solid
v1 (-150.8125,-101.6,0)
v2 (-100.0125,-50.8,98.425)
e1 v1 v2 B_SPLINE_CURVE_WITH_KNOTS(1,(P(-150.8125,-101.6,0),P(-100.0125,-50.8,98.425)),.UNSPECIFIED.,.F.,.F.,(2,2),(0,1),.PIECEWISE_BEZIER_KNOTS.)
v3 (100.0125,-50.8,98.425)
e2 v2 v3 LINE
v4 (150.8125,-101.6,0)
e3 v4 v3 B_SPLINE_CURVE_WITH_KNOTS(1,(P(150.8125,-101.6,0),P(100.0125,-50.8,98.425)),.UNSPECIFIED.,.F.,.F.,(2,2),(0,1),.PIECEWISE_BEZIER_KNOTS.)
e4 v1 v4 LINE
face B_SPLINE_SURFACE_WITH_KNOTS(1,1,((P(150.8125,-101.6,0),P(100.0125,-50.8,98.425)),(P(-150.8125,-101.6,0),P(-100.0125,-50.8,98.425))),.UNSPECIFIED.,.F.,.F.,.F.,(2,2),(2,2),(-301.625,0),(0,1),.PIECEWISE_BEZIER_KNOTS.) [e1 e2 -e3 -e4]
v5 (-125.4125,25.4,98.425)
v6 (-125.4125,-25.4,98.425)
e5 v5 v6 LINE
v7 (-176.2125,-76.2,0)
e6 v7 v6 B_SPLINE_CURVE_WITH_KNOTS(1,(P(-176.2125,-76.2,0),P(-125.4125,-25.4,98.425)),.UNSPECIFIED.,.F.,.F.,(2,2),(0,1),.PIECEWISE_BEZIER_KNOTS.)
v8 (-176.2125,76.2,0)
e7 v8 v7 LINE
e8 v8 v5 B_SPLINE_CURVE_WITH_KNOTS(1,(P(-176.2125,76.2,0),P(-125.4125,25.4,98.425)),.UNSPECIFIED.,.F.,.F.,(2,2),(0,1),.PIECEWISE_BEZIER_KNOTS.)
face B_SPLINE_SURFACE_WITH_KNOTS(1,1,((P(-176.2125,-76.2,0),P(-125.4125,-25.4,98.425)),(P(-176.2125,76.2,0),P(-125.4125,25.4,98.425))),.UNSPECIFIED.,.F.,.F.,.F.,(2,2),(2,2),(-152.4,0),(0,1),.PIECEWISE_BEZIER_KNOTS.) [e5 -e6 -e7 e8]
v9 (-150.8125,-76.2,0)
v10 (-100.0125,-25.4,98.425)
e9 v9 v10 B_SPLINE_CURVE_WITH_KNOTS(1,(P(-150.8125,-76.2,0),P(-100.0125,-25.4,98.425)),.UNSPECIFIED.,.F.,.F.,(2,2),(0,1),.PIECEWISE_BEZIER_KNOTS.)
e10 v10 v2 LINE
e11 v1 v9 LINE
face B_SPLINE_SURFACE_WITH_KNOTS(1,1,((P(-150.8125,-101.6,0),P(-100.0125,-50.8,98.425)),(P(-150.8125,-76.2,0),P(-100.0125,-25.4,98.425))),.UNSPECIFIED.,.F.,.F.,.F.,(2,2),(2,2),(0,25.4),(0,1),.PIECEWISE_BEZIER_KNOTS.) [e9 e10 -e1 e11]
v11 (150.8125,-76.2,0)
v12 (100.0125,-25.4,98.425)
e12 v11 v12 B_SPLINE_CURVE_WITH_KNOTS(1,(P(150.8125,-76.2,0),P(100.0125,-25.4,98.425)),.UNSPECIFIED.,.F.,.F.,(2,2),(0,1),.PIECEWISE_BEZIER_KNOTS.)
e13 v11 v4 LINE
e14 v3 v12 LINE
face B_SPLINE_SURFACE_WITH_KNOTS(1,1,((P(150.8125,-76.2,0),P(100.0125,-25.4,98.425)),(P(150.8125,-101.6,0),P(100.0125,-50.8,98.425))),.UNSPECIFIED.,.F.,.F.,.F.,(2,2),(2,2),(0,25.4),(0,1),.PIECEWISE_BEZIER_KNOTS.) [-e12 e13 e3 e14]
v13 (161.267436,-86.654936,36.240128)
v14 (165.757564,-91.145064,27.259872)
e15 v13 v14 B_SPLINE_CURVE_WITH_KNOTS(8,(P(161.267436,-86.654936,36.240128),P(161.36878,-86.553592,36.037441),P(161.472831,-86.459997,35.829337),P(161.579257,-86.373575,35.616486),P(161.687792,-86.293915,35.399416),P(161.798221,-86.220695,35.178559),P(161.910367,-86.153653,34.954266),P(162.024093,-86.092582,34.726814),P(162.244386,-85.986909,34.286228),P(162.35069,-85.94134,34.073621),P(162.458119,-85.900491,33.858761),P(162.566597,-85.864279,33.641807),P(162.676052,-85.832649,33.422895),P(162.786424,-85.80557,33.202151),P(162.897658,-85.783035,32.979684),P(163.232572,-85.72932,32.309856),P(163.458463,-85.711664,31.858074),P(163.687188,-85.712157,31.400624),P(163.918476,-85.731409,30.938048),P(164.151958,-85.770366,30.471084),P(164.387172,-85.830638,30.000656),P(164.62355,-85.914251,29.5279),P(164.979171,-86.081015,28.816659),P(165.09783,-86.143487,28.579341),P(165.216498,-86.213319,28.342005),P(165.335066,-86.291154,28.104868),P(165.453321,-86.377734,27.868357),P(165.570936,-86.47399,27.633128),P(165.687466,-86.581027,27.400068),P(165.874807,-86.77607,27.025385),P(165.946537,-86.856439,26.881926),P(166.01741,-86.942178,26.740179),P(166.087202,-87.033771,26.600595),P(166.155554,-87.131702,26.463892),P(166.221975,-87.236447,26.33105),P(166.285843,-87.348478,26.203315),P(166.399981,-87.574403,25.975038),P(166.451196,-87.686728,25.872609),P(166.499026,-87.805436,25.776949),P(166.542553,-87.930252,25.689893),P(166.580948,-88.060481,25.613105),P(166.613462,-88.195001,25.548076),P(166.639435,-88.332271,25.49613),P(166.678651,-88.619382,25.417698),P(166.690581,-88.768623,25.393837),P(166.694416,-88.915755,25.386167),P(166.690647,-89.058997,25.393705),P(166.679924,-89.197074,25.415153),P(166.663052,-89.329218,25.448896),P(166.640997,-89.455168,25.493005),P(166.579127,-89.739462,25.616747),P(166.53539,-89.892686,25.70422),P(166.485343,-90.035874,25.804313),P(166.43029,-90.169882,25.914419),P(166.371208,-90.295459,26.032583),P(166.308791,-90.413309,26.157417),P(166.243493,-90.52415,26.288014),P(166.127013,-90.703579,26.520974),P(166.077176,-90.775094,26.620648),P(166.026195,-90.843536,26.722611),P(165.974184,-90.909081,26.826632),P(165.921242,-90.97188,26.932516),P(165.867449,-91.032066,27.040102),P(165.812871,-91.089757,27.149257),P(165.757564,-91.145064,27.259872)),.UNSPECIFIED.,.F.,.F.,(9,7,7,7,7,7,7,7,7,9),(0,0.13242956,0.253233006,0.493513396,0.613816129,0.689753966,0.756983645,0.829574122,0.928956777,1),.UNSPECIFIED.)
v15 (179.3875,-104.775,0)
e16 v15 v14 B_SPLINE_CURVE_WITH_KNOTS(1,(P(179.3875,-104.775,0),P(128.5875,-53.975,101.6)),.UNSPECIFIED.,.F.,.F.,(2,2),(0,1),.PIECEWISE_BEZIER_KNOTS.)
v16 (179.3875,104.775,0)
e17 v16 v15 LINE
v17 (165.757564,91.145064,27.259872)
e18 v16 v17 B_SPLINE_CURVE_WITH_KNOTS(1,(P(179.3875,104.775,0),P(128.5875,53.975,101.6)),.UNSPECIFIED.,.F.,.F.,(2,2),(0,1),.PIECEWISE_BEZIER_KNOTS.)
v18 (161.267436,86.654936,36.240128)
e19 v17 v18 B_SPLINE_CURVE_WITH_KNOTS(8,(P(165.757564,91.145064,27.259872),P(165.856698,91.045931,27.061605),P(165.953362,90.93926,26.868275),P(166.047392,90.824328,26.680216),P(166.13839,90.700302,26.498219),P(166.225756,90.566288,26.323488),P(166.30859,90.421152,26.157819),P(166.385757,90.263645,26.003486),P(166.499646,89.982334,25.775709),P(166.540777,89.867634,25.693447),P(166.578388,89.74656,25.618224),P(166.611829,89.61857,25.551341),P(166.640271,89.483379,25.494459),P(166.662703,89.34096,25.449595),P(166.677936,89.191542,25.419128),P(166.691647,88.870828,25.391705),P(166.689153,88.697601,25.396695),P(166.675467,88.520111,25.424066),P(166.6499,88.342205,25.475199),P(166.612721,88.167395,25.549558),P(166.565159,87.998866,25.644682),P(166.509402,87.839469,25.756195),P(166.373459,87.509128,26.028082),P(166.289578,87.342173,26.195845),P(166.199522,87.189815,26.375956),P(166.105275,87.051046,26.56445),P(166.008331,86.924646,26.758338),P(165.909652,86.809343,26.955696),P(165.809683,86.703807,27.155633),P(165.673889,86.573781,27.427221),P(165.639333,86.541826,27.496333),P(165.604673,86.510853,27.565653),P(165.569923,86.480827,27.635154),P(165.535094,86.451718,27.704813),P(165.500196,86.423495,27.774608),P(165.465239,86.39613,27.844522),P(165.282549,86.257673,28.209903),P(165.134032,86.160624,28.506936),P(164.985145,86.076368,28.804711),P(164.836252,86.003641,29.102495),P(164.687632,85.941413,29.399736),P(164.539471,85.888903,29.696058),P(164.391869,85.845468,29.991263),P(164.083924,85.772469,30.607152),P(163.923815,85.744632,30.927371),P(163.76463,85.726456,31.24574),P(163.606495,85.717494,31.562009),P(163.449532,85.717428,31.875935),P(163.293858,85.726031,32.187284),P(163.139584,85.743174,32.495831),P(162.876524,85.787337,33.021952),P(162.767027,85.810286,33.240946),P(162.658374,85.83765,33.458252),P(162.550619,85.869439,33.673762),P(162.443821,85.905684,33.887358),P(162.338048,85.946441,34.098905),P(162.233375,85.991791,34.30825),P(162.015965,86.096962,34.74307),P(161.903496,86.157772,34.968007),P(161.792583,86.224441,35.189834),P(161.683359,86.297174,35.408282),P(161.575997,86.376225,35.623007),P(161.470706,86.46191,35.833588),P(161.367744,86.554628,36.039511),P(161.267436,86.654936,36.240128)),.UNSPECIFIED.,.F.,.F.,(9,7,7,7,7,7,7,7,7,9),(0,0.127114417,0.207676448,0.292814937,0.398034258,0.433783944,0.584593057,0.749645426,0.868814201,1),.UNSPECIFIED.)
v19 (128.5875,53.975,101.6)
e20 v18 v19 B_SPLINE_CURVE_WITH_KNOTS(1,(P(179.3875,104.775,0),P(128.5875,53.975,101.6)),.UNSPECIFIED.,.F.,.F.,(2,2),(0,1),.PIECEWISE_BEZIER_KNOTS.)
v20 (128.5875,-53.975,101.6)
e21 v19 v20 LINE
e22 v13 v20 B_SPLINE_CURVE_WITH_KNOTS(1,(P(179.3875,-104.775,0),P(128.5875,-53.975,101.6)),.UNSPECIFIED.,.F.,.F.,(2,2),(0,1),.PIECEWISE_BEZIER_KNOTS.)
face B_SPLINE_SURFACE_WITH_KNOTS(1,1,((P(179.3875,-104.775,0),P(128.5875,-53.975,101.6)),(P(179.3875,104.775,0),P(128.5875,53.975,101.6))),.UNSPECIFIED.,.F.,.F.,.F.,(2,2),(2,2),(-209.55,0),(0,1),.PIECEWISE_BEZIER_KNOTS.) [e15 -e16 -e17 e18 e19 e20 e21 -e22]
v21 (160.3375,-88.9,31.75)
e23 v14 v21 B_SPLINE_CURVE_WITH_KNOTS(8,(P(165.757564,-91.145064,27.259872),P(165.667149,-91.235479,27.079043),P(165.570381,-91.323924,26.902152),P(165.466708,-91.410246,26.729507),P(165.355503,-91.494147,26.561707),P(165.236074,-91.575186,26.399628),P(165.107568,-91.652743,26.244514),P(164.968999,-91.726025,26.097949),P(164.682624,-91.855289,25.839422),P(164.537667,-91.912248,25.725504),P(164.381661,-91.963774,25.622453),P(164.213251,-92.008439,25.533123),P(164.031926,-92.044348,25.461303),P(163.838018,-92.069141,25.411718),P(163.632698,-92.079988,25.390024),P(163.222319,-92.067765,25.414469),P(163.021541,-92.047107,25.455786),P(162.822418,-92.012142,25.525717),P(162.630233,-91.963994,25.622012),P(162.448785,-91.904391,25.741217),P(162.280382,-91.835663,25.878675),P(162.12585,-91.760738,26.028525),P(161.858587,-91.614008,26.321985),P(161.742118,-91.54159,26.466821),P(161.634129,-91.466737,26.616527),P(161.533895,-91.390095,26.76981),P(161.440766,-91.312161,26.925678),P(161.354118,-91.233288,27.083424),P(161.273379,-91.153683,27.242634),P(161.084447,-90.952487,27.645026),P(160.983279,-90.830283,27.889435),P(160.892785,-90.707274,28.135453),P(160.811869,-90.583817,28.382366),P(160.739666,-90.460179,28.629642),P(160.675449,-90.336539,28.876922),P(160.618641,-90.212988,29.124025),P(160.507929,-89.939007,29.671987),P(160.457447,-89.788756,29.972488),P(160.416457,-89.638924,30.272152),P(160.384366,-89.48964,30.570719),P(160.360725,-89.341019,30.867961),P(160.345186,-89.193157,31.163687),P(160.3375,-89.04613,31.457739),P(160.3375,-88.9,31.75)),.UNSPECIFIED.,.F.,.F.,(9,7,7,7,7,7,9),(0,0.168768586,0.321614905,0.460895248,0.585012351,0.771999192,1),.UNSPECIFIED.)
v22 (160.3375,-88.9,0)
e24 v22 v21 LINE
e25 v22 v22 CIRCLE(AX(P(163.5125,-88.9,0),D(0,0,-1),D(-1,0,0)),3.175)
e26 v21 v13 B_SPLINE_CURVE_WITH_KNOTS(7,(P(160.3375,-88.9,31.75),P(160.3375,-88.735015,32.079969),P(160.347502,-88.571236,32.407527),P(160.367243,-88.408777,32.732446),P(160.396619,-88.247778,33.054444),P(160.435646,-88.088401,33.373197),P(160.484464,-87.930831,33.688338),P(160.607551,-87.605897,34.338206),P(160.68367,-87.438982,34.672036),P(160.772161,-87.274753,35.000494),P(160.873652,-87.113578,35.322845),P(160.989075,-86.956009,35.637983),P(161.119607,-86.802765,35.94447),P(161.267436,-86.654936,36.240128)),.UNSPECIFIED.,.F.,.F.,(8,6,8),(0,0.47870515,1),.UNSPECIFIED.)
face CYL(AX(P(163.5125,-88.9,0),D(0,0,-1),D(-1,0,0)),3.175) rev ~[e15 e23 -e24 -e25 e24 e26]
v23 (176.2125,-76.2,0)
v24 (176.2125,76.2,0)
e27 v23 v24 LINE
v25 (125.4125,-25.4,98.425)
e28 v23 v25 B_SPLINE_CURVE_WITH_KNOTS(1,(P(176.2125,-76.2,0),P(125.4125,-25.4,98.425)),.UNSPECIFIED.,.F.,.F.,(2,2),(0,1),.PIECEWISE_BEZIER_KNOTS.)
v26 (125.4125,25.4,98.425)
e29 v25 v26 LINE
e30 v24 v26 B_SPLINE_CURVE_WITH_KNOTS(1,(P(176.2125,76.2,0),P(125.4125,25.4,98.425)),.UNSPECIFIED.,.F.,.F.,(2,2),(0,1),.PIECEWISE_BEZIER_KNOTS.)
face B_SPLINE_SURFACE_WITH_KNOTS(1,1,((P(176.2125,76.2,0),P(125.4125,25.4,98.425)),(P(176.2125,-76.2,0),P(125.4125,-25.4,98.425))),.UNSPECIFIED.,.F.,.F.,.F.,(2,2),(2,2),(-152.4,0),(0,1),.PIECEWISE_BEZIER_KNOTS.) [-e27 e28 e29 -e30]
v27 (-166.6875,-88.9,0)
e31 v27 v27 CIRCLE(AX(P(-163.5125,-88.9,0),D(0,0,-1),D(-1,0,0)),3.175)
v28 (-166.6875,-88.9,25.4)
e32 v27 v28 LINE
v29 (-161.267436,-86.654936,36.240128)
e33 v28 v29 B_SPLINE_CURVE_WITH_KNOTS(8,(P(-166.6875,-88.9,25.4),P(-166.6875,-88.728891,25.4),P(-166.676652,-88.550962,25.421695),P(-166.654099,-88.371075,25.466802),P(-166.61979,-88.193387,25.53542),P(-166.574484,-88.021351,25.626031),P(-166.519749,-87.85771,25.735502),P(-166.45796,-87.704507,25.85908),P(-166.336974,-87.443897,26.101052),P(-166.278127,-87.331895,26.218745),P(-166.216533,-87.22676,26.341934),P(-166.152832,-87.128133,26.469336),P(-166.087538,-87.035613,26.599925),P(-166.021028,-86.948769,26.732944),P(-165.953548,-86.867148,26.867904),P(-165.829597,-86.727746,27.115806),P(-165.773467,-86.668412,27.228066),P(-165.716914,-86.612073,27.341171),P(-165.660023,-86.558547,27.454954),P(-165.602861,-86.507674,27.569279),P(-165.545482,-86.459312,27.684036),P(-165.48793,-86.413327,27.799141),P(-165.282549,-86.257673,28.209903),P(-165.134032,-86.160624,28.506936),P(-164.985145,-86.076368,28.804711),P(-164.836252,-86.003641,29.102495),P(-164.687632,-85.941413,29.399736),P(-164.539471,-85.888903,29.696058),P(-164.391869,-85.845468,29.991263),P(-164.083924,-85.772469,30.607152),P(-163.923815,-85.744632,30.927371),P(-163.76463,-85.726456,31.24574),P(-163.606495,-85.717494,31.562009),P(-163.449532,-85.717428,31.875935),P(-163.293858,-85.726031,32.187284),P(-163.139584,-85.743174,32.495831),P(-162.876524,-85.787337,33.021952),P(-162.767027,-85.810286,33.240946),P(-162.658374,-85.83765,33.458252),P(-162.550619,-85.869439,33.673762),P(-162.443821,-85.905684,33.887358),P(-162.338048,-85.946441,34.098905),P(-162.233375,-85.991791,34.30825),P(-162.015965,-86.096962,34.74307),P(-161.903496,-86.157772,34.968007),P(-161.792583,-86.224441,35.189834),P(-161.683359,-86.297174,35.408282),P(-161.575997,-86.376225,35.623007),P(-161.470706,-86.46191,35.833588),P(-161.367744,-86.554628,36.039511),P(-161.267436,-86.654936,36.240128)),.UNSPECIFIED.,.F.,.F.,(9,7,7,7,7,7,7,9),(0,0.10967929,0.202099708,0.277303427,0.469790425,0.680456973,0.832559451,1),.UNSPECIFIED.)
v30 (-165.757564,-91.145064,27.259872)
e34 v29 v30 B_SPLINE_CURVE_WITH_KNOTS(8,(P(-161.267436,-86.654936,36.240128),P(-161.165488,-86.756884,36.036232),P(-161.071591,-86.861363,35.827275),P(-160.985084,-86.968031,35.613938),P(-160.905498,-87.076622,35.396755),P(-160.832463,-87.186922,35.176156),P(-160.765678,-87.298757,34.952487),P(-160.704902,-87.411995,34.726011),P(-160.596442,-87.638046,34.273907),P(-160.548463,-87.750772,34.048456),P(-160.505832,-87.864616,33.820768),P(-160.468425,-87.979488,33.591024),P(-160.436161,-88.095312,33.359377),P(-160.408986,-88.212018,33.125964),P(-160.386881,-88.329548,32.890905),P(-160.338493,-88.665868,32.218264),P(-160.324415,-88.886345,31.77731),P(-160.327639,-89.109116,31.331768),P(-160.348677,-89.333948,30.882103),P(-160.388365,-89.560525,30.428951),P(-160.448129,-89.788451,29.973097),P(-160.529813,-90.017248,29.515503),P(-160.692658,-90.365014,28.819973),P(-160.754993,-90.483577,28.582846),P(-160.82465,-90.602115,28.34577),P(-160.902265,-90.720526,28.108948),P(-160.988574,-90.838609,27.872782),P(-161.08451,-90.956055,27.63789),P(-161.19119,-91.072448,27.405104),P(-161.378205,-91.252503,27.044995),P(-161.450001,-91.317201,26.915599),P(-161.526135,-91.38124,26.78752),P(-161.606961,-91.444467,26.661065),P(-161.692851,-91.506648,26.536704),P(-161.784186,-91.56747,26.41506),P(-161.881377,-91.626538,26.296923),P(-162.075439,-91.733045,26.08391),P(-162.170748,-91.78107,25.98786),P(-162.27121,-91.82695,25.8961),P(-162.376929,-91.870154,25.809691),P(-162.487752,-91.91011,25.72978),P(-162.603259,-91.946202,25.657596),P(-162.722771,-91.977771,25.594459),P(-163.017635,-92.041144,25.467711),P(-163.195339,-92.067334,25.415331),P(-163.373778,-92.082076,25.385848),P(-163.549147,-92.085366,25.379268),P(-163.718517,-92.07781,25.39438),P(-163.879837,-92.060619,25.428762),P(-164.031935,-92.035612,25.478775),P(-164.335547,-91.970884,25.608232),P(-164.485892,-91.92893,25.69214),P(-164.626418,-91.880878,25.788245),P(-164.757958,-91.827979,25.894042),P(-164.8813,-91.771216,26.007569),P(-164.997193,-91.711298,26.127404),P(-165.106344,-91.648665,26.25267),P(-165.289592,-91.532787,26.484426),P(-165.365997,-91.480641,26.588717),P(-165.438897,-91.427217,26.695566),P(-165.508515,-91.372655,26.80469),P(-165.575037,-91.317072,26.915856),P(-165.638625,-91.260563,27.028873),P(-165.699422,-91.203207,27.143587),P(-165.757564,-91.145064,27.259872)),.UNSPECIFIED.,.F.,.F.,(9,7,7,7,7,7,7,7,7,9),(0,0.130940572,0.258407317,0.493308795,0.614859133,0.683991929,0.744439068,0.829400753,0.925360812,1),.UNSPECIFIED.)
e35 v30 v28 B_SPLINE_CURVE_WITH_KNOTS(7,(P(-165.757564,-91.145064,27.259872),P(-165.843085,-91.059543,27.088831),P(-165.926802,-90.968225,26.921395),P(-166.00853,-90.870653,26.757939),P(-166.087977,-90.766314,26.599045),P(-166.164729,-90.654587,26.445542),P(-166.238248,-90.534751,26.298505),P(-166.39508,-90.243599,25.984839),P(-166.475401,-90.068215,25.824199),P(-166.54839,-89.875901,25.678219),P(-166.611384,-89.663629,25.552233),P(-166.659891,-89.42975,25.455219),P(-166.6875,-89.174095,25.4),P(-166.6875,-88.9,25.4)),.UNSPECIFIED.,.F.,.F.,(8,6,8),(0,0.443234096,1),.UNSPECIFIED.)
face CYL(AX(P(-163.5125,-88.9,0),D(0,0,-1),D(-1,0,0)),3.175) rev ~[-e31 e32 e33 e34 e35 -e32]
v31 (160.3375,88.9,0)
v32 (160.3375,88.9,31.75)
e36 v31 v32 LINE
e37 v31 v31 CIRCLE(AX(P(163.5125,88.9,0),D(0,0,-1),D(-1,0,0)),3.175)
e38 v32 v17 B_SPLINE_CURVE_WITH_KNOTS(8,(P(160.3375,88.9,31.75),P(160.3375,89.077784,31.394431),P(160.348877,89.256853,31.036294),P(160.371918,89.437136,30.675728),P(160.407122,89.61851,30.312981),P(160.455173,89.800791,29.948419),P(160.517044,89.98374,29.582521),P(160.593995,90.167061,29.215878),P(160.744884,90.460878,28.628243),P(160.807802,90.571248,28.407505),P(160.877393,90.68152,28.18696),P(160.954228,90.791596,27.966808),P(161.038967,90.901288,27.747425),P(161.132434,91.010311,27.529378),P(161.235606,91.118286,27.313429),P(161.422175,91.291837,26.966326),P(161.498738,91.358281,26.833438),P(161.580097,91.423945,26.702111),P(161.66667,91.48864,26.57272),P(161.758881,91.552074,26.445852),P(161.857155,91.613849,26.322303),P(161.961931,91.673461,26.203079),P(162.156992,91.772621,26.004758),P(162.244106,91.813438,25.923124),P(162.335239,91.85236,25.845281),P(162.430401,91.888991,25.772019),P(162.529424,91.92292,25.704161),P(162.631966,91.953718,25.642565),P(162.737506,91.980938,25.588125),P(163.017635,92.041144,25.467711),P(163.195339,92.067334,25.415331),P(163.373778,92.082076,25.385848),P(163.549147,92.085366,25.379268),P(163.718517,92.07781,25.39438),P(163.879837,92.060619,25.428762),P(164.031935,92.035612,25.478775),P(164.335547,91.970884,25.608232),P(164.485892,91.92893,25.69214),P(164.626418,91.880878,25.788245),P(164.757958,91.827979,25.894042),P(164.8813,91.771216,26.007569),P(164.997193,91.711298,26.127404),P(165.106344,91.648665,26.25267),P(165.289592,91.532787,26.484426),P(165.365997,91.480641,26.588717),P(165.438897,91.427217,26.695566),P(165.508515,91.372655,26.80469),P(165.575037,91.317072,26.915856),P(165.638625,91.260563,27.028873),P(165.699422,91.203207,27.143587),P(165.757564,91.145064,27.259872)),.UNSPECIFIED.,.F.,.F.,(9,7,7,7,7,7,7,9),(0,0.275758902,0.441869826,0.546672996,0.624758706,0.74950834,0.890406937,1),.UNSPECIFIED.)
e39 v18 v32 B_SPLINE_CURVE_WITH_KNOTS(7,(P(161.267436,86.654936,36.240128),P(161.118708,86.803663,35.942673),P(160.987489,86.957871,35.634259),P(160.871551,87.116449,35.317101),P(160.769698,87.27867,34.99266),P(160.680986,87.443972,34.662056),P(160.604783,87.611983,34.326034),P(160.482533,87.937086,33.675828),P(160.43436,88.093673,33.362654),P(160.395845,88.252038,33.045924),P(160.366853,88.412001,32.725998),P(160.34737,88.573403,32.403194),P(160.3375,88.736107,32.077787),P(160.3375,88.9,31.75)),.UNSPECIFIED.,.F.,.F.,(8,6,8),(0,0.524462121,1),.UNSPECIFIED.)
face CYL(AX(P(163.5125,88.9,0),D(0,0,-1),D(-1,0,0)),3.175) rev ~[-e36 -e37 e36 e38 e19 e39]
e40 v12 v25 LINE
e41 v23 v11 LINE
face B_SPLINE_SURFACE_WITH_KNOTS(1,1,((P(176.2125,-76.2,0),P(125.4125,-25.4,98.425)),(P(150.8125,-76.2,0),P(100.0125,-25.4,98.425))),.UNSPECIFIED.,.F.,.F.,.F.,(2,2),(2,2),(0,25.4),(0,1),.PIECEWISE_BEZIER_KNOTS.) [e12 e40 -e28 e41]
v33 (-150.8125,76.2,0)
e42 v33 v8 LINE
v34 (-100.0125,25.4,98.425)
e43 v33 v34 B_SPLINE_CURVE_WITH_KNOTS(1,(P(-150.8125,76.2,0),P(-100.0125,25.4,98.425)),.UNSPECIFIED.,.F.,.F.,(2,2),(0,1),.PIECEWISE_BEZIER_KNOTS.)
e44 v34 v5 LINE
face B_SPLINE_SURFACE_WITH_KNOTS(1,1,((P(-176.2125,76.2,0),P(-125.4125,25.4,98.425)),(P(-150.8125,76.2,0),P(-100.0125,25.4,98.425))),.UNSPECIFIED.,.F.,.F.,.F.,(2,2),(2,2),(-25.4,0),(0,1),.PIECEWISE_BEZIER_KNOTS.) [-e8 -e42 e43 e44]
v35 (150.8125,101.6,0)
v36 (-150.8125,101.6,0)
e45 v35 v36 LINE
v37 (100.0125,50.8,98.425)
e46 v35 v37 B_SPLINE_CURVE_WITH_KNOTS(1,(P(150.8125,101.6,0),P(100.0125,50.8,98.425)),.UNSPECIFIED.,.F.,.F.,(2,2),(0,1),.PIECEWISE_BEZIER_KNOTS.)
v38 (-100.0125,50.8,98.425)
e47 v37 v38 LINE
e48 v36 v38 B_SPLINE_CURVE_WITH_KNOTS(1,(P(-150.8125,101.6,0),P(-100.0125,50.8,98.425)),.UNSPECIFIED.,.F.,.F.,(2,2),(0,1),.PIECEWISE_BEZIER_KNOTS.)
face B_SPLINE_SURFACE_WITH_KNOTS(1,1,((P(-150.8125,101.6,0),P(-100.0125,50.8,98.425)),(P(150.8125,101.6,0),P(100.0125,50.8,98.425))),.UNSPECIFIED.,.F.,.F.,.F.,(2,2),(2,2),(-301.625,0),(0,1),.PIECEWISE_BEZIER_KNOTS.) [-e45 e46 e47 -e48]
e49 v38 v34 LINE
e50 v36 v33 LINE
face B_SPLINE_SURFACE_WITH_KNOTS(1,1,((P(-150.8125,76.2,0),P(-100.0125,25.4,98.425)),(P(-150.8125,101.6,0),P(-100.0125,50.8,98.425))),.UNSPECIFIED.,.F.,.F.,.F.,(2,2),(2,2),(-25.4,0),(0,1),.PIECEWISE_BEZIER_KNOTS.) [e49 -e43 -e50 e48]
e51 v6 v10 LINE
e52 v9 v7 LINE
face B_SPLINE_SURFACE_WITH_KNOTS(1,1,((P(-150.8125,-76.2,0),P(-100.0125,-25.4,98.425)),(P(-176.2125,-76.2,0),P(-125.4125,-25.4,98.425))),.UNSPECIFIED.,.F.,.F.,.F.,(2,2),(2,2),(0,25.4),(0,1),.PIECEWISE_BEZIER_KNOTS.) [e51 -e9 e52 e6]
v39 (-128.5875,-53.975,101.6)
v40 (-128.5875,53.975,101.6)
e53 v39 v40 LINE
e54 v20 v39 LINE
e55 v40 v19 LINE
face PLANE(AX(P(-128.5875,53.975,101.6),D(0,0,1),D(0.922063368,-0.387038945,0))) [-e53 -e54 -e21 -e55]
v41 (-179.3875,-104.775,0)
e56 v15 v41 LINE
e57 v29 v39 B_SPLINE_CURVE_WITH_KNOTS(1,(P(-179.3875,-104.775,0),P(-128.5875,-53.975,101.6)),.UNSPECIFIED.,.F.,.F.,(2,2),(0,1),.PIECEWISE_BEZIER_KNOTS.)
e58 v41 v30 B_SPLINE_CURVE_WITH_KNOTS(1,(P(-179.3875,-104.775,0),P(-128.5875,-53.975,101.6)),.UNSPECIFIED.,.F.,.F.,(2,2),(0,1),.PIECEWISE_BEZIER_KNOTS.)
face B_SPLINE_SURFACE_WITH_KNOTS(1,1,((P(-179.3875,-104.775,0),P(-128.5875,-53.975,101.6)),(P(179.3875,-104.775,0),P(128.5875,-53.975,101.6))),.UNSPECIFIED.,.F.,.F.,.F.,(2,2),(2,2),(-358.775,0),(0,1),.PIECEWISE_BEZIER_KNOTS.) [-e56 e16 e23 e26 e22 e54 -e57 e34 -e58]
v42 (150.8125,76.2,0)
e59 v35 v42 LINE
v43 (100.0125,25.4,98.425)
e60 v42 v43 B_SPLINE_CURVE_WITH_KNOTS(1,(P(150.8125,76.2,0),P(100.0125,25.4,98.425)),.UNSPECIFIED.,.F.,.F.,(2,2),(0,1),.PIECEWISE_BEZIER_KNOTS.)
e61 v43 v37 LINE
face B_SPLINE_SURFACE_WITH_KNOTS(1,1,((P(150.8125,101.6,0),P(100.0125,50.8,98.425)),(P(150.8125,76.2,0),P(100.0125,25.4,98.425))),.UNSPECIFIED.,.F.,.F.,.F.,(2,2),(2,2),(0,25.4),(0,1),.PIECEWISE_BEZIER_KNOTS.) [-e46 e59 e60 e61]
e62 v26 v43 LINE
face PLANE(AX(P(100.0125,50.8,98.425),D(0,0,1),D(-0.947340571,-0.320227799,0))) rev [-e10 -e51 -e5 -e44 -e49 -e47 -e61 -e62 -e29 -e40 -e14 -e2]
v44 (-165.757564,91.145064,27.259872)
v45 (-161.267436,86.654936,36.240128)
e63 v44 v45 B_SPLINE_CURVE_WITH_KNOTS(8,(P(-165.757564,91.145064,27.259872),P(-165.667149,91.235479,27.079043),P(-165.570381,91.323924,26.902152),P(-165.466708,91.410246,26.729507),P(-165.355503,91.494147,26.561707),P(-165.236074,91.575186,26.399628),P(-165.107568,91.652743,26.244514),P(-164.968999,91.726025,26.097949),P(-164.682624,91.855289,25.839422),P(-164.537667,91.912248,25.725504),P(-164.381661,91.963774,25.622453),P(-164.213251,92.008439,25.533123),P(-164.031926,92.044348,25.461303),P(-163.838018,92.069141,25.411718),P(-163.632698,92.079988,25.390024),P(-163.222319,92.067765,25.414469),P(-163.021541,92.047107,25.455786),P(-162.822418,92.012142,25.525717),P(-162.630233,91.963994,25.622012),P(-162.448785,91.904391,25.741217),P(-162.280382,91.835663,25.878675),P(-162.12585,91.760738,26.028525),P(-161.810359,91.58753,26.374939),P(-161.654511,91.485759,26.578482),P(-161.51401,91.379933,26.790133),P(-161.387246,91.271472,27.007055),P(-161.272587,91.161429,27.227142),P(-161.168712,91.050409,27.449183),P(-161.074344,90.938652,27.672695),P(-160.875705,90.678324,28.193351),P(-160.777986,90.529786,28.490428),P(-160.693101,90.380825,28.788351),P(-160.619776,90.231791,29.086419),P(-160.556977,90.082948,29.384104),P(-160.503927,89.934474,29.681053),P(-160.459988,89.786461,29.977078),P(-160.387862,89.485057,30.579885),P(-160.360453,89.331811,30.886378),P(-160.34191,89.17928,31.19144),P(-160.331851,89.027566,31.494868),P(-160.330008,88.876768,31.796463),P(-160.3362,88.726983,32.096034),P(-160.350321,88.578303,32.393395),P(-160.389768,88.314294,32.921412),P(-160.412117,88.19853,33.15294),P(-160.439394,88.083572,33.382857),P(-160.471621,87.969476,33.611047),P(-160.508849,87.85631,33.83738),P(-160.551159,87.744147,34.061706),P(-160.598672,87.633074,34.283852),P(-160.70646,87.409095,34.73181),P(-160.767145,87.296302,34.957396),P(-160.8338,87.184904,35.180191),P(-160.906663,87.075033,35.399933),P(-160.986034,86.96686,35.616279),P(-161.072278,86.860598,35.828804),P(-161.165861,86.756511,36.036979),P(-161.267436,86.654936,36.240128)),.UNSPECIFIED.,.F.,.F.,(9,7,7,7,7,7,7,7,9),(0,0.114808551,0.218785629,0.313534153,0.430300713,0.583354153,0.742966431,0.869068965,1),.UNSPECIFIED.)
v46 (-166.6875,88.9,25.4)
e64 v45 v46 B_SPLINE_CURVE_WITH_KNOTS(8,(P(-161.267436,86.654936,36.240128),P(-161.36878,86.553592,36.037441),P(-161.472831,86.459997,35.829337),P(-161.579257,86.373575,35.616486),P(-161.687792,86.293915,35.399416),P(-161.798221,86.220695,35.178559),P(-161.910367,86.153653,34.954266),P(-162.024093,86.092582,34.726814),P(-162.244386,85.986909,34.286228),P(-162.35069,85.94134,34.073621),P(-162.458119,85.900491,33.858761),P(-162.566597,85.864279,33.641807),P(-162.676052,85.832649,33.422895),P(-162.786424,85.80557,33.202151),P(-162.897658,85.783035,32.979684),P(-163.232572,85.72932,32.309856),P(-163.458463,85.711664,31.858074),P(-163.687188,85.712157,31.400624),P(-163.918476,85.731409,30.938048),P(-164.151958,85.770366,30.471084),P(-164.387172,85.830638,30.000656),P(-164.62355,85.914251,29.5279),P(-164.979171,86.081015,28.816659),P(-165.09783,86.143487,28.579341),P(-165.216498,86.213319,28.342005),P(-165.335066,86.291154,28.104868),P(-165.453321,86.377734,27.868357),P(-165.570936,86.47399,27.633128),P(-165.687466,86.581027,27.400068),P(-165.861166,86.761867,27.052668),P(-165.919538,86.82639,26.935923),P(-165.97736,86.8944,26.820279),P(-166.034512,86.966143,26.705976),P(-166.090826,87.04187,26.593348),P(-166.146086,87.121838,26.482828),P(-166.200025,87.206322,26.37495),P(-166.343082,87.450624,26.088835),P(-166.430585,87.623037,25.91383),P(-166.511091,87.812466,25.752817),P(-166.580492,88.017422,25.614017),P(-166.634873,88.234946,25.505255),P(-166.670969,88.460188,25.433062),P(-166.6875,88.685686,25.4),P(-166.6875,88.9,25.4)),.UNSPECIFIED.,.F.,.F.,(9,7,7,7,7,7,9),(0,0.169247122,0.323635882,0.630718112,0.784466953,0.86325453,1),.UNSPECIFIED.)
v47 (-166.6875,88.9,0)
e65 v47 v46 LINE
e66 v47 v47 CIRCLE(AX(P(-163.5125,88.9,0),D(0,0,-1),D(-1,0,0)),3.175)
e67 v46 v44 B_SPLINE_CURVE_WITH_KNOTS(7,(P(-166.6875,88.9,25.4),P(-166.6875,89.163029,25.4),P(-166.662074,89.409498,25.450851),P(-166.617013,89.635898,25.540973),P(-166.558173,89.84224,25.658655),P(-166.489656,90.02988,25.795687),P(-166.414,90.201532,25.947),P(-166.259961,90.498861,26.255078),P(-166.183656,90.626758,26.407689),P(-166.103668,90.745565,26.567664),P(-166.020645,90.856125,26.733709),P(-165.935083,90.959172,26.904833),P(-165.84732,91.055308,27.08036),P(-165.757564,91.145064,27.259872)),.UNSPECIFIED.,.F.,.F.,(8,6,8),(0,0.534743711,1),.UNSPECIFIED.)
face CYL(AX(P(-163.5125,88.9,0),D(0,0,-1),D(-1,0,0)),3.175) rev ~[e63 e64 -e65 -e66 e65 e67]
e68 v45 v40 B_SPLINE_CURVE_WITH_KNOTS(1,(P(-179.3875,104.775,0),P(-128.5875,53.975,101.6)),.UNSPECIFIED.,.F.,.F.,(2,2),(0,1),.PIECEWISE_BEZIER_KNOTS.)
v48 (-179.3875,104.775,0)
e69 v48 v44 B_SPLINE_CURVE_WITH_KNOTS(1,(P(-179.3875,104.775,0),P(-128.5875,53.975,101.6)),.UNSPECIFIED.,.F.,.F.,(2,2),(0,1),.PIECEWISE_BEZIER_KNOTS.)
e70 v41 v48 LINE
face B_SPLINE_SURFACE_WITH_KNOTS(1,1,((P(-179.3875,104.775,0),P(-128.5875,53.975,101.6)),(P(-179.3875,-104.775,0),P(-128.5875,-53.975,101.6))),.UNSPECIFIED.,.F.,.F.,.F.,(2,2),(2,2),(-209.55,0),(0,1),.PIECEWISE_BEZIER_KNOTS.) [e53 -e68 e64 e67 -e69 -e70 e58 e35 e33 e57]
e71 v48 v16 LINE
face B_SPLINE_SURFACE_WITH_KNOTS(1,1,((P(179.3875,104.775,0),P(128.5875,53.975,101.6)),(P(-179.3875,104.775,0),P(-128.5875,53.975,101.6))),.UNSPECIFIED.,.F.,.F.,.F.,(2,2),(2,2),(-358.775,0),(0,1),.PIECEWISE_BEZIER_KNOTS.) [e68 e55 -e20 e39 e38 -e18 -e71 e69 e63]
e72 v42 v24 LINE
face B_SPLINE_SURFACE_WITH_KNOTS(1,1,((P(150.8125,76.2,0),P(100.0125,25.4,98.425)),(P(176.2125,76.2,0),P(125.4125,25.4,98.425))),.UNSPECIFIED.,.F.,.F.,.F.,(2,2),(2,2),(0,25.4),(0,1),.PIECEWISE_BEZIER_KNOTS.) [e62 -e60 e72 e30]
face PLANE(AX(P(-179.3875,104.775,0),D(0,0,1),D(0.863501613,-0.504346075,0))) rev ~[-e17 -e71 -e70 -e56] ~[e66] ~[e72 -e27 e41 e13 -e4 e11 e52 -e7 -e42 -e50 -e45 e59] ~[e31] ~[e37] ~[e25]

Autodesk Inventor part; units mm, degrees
ref_plane "YZ Plane" through (0, 0, 0) normal (1, 0, 0) x (0, 1, 0)
sketch "Sketch1" plane through (0, 0, 0) normal (0, 0, 1) x (1, 0, 0)
  line L0 (-251.1425, 0) -> (251.1425, 0) construction
  line L1 (0, -146.685) -> (0, 146.685) construction
  line L2 (-179.3875, 104.775) -> (179.3875, 104.775)
  line L3 (179.3875, 104.775) -> (179.3875, -104.775)
  line L4 (179.3875, -104.775) -> (-179.3875, -104.775)
  line L5 (-179.3875, -104.775) -> (-179.3875, 104.775)
  point P0 (0, 0)
  point P1 (0, 104.775)
  point P2 (-179.3875, 0)
  dimension "d0" = 358.775
  dimension "d1" = 209.55
ref_plane "Work Plane1" through (0, 0, 101.6) normal (0, 0, 1) x (1, 0, 0)
sketch "Sketch2" plane through (0, 0, 101.6) normal (0, 0, 1) x (1, 0, 0)
  line L0 (0, -146.685) -> (0, 146.685) construction
  line L1 (-253.365, 0) -> (253.365, 0) construction
  line L2 (-128.5875, 53.975) -> (128.5875, 53.975)
  line L3 (128.5875, 53.975) -> (128.5875, -53.975)
  line L4 (128.5875, -53.975) -> (-128.5875, -53.975)
  line L5 (-128.5875, -53.975) -> (-128.5875, 53.975)
  line L6 (-179.3875, 104.775) -> (179.3875, 104.775) construction
  line L7 (-179.3875, -104.775) -> (-179.3875, 104.775) construction
  point P0 (0, 0)
  point P1 (0, 53.975)
  point P2 (-128.5875, 0)
  dimension "d3" = 50.8
  dimension "d4" = 50.8
loft "Loft1" add profiles "Sketch1", "Sketch2"
sketch "Sketch3" plane through (179.3875, 104.775, 0) normal (0, 0, -1) x (-1, 0, 0)
  line L0 (179.3875, -251.46) -> (179.3875, 41.91) construction
  line L1 (430.53, -104.775) -> (-71.755, -104.775) construction
  line L2 (3.175, -3.175) -> (28.575, -3.175) construction
  line L3 (355.6, -3.175) -> (355.6, -28.575) construction
  line L4 (355.6, -206.375) -> (330.2, -206.375) construction
  line L5 (3.175, -206.375) -> (3.175, -180.975) construction
  line L6 (28.575, -3.175) -> (28.575, -28.575)
  line L7 (28.575, -28.575) -> (3.175, -28.575)
  line L8 (3.175, -180.975) -> (28.575, -180.975)
  line L9 (28.575, -180.975) -> (28.575, -206.375)
  line L10 (330.2, -3.175) -> (330.2, -28.575)
  line L11 (330.2, -28.575) -> (355.6, -28.575)
  line L12 (330.2, -206.375) -> (330.2, -180.975)
  line L13 (330.2, -180.975) -> (355.6, -180.975)
  line L14 (3.175, -28.575) -> (3.175, -3.175) construction
  line L15 (28.575, -3.175) -> (330.2, -3.175)
  line L16 (330.2, -3.175) -> (355.6, -3.175) construction
  line L17 (355.6, -28.575) -> (355.6, -180.975)
  line L18 (355.6, -180.975) -> (355.6, -206.375) construction
  line L19 (330.2, -206.375) -> (28.575, -206.375)
  line L20 (28.575, -206.375) -> (3.175, -206.375) construction
  line L21 (3.175, -180.975) -> (3.175, -28.575)
  line L22 (0, 0) -> (0, -209.55) construction
  line L23 (358.775, 0) -> (0, 0) construction
  point P0 (179.3875, -104.775)
  point P1 (179.3875, -3.175)
  point P2 (3.175, -104.775)
  dimension "d9" = 3.175
  dimension "d10" = 3.175
  dimension "d11" = 25.4
ref_plane "Work Plane2" through (0, 0, 98.425) normal (0, 0, 1) x (1, 0, 0)
sketch "Sketch5" plane through (0, 0, 98.425) normal (0, 0, 1) x (1, 0, 0)
  line L0 (150.8125, 101.6) -> (150.8125, 76.2) projected
  line L1 (150.8125, 76.2) -> (176.2125, 76.2) projected
  line L2 (176.2125, -76.2) -> (176.2125, 76.2) projected
  line L3 (176.2125, -76.2) -> (150.8125, -76.2) projected
  line L4 (150.8125, -76.2) -> (150.8125, -101.6) projected
  line L5 (-150.8125, -101.6) -> (150.8125, -101.6) projected
  line L6 (-150.8125, -101.6) -> (-150.8125, -76.2) projected
  line L7 (-150.8125, -76.2) -> (-176.2125, -76.2) projected
  line L8 (-176.2125, 76.2) -> (-176.2125, -76.2) projected
  line L9 (-150.8125, 76.2) -> (-176.2125, 76.2) projected
  line L10 (-150.8125, 101.6) -> (-150.8125, 76.2) projected
  line L11 (150.8125, 101.6) -> (-150.8125, 101.6) projected
  line L12 (-100.0125, 50.8) -> (-100.0125, 25.4)
  line L13 (-100.0125, 25.4) -> (-125.4125, 25.4)
  line L14 (-125.4125, 25.4) -> (-125.4125, -25.4)
  line L15 (-125.4125, -25.4) -> (-100.0125, -25.4)
  line L16 (-100.0125, -25.4) -> (-100.0125, -50.8)
  line L17 (-100.0125, -50.8) -> (100.0125, -50.8)
  line L18 (100.0125, -50.8) -> (100.0125, -25.4)
  line L19 (100.0125, -25.4) -> (125.4125, -25.4)
  line L20 (125.4125, -25.4) -> (125.4125, 25.4)
  line L21 (125.4125, 25.4) -> (100.0125, 25.4)
  line L22 (100.0125, 25.4) -> (100.0125, 50.8)
  line L23 (100.0125, 50.8) -> (-100.0125, 50.8)
  line L24 (-128.5875, 53.975) -> (128.5875, 53.975) projected
  point P0 (0, 0)
  dimension "d15" = 3.175
loft "Loft2" cut profiles "Sketch3", "Sketch5" contours all / L23 L22 L21 L20 L19 L18 L17 L16 L15 L14 L13 L12
sketch "Sketch6" plane through (179.3875, 104.775, 0) normal (0, 0, -1) x (-1, 0, 0)
  line L0 (430.53, -104.775) -> (-71.755, -104.775) construction
  line L1 (179.3875, -251.46) -> (179.3875, 41.91) construction
  line L2 (15.875, -15.875) -> (342.9, -15.875) construction
  line L3 (342.9, -15.875) -> (342.9, -193.675) construction
  line L4 (342.9, -193.675) -> (15.875, -193.675) construction
  line L5 (15.875, -193.675) -> (15.875, -15.875) construction
  line L6 (3.175, -28.575) -> (28.575, -28.575) construction
  line L7 (28.575, -28.575) -> (28.575, -3.175) construction
  circle A0 centre (15.875, -15.875) radius 3.175
  circle A1 centre (342.9, -15.875) radius 3.175
  circle A2 centre (342.9, -193.675) radius 3.175
  circle A3 centre (15.875, -193.675) radius 3.175
  point P0 (179.3875, -104.775)
  point P1 (179.3875, -15.875)
  point P2 (15.875, -104.775)
  dimension "d20" = 12.7
  dimension "d21" = 12.7
  dimension "d22" = 6.35
extrude "Extrusion1" cut sketch "Sketch6" against normal through all
equation "\"d21\" = d20"
properties part number "Front Cover"
